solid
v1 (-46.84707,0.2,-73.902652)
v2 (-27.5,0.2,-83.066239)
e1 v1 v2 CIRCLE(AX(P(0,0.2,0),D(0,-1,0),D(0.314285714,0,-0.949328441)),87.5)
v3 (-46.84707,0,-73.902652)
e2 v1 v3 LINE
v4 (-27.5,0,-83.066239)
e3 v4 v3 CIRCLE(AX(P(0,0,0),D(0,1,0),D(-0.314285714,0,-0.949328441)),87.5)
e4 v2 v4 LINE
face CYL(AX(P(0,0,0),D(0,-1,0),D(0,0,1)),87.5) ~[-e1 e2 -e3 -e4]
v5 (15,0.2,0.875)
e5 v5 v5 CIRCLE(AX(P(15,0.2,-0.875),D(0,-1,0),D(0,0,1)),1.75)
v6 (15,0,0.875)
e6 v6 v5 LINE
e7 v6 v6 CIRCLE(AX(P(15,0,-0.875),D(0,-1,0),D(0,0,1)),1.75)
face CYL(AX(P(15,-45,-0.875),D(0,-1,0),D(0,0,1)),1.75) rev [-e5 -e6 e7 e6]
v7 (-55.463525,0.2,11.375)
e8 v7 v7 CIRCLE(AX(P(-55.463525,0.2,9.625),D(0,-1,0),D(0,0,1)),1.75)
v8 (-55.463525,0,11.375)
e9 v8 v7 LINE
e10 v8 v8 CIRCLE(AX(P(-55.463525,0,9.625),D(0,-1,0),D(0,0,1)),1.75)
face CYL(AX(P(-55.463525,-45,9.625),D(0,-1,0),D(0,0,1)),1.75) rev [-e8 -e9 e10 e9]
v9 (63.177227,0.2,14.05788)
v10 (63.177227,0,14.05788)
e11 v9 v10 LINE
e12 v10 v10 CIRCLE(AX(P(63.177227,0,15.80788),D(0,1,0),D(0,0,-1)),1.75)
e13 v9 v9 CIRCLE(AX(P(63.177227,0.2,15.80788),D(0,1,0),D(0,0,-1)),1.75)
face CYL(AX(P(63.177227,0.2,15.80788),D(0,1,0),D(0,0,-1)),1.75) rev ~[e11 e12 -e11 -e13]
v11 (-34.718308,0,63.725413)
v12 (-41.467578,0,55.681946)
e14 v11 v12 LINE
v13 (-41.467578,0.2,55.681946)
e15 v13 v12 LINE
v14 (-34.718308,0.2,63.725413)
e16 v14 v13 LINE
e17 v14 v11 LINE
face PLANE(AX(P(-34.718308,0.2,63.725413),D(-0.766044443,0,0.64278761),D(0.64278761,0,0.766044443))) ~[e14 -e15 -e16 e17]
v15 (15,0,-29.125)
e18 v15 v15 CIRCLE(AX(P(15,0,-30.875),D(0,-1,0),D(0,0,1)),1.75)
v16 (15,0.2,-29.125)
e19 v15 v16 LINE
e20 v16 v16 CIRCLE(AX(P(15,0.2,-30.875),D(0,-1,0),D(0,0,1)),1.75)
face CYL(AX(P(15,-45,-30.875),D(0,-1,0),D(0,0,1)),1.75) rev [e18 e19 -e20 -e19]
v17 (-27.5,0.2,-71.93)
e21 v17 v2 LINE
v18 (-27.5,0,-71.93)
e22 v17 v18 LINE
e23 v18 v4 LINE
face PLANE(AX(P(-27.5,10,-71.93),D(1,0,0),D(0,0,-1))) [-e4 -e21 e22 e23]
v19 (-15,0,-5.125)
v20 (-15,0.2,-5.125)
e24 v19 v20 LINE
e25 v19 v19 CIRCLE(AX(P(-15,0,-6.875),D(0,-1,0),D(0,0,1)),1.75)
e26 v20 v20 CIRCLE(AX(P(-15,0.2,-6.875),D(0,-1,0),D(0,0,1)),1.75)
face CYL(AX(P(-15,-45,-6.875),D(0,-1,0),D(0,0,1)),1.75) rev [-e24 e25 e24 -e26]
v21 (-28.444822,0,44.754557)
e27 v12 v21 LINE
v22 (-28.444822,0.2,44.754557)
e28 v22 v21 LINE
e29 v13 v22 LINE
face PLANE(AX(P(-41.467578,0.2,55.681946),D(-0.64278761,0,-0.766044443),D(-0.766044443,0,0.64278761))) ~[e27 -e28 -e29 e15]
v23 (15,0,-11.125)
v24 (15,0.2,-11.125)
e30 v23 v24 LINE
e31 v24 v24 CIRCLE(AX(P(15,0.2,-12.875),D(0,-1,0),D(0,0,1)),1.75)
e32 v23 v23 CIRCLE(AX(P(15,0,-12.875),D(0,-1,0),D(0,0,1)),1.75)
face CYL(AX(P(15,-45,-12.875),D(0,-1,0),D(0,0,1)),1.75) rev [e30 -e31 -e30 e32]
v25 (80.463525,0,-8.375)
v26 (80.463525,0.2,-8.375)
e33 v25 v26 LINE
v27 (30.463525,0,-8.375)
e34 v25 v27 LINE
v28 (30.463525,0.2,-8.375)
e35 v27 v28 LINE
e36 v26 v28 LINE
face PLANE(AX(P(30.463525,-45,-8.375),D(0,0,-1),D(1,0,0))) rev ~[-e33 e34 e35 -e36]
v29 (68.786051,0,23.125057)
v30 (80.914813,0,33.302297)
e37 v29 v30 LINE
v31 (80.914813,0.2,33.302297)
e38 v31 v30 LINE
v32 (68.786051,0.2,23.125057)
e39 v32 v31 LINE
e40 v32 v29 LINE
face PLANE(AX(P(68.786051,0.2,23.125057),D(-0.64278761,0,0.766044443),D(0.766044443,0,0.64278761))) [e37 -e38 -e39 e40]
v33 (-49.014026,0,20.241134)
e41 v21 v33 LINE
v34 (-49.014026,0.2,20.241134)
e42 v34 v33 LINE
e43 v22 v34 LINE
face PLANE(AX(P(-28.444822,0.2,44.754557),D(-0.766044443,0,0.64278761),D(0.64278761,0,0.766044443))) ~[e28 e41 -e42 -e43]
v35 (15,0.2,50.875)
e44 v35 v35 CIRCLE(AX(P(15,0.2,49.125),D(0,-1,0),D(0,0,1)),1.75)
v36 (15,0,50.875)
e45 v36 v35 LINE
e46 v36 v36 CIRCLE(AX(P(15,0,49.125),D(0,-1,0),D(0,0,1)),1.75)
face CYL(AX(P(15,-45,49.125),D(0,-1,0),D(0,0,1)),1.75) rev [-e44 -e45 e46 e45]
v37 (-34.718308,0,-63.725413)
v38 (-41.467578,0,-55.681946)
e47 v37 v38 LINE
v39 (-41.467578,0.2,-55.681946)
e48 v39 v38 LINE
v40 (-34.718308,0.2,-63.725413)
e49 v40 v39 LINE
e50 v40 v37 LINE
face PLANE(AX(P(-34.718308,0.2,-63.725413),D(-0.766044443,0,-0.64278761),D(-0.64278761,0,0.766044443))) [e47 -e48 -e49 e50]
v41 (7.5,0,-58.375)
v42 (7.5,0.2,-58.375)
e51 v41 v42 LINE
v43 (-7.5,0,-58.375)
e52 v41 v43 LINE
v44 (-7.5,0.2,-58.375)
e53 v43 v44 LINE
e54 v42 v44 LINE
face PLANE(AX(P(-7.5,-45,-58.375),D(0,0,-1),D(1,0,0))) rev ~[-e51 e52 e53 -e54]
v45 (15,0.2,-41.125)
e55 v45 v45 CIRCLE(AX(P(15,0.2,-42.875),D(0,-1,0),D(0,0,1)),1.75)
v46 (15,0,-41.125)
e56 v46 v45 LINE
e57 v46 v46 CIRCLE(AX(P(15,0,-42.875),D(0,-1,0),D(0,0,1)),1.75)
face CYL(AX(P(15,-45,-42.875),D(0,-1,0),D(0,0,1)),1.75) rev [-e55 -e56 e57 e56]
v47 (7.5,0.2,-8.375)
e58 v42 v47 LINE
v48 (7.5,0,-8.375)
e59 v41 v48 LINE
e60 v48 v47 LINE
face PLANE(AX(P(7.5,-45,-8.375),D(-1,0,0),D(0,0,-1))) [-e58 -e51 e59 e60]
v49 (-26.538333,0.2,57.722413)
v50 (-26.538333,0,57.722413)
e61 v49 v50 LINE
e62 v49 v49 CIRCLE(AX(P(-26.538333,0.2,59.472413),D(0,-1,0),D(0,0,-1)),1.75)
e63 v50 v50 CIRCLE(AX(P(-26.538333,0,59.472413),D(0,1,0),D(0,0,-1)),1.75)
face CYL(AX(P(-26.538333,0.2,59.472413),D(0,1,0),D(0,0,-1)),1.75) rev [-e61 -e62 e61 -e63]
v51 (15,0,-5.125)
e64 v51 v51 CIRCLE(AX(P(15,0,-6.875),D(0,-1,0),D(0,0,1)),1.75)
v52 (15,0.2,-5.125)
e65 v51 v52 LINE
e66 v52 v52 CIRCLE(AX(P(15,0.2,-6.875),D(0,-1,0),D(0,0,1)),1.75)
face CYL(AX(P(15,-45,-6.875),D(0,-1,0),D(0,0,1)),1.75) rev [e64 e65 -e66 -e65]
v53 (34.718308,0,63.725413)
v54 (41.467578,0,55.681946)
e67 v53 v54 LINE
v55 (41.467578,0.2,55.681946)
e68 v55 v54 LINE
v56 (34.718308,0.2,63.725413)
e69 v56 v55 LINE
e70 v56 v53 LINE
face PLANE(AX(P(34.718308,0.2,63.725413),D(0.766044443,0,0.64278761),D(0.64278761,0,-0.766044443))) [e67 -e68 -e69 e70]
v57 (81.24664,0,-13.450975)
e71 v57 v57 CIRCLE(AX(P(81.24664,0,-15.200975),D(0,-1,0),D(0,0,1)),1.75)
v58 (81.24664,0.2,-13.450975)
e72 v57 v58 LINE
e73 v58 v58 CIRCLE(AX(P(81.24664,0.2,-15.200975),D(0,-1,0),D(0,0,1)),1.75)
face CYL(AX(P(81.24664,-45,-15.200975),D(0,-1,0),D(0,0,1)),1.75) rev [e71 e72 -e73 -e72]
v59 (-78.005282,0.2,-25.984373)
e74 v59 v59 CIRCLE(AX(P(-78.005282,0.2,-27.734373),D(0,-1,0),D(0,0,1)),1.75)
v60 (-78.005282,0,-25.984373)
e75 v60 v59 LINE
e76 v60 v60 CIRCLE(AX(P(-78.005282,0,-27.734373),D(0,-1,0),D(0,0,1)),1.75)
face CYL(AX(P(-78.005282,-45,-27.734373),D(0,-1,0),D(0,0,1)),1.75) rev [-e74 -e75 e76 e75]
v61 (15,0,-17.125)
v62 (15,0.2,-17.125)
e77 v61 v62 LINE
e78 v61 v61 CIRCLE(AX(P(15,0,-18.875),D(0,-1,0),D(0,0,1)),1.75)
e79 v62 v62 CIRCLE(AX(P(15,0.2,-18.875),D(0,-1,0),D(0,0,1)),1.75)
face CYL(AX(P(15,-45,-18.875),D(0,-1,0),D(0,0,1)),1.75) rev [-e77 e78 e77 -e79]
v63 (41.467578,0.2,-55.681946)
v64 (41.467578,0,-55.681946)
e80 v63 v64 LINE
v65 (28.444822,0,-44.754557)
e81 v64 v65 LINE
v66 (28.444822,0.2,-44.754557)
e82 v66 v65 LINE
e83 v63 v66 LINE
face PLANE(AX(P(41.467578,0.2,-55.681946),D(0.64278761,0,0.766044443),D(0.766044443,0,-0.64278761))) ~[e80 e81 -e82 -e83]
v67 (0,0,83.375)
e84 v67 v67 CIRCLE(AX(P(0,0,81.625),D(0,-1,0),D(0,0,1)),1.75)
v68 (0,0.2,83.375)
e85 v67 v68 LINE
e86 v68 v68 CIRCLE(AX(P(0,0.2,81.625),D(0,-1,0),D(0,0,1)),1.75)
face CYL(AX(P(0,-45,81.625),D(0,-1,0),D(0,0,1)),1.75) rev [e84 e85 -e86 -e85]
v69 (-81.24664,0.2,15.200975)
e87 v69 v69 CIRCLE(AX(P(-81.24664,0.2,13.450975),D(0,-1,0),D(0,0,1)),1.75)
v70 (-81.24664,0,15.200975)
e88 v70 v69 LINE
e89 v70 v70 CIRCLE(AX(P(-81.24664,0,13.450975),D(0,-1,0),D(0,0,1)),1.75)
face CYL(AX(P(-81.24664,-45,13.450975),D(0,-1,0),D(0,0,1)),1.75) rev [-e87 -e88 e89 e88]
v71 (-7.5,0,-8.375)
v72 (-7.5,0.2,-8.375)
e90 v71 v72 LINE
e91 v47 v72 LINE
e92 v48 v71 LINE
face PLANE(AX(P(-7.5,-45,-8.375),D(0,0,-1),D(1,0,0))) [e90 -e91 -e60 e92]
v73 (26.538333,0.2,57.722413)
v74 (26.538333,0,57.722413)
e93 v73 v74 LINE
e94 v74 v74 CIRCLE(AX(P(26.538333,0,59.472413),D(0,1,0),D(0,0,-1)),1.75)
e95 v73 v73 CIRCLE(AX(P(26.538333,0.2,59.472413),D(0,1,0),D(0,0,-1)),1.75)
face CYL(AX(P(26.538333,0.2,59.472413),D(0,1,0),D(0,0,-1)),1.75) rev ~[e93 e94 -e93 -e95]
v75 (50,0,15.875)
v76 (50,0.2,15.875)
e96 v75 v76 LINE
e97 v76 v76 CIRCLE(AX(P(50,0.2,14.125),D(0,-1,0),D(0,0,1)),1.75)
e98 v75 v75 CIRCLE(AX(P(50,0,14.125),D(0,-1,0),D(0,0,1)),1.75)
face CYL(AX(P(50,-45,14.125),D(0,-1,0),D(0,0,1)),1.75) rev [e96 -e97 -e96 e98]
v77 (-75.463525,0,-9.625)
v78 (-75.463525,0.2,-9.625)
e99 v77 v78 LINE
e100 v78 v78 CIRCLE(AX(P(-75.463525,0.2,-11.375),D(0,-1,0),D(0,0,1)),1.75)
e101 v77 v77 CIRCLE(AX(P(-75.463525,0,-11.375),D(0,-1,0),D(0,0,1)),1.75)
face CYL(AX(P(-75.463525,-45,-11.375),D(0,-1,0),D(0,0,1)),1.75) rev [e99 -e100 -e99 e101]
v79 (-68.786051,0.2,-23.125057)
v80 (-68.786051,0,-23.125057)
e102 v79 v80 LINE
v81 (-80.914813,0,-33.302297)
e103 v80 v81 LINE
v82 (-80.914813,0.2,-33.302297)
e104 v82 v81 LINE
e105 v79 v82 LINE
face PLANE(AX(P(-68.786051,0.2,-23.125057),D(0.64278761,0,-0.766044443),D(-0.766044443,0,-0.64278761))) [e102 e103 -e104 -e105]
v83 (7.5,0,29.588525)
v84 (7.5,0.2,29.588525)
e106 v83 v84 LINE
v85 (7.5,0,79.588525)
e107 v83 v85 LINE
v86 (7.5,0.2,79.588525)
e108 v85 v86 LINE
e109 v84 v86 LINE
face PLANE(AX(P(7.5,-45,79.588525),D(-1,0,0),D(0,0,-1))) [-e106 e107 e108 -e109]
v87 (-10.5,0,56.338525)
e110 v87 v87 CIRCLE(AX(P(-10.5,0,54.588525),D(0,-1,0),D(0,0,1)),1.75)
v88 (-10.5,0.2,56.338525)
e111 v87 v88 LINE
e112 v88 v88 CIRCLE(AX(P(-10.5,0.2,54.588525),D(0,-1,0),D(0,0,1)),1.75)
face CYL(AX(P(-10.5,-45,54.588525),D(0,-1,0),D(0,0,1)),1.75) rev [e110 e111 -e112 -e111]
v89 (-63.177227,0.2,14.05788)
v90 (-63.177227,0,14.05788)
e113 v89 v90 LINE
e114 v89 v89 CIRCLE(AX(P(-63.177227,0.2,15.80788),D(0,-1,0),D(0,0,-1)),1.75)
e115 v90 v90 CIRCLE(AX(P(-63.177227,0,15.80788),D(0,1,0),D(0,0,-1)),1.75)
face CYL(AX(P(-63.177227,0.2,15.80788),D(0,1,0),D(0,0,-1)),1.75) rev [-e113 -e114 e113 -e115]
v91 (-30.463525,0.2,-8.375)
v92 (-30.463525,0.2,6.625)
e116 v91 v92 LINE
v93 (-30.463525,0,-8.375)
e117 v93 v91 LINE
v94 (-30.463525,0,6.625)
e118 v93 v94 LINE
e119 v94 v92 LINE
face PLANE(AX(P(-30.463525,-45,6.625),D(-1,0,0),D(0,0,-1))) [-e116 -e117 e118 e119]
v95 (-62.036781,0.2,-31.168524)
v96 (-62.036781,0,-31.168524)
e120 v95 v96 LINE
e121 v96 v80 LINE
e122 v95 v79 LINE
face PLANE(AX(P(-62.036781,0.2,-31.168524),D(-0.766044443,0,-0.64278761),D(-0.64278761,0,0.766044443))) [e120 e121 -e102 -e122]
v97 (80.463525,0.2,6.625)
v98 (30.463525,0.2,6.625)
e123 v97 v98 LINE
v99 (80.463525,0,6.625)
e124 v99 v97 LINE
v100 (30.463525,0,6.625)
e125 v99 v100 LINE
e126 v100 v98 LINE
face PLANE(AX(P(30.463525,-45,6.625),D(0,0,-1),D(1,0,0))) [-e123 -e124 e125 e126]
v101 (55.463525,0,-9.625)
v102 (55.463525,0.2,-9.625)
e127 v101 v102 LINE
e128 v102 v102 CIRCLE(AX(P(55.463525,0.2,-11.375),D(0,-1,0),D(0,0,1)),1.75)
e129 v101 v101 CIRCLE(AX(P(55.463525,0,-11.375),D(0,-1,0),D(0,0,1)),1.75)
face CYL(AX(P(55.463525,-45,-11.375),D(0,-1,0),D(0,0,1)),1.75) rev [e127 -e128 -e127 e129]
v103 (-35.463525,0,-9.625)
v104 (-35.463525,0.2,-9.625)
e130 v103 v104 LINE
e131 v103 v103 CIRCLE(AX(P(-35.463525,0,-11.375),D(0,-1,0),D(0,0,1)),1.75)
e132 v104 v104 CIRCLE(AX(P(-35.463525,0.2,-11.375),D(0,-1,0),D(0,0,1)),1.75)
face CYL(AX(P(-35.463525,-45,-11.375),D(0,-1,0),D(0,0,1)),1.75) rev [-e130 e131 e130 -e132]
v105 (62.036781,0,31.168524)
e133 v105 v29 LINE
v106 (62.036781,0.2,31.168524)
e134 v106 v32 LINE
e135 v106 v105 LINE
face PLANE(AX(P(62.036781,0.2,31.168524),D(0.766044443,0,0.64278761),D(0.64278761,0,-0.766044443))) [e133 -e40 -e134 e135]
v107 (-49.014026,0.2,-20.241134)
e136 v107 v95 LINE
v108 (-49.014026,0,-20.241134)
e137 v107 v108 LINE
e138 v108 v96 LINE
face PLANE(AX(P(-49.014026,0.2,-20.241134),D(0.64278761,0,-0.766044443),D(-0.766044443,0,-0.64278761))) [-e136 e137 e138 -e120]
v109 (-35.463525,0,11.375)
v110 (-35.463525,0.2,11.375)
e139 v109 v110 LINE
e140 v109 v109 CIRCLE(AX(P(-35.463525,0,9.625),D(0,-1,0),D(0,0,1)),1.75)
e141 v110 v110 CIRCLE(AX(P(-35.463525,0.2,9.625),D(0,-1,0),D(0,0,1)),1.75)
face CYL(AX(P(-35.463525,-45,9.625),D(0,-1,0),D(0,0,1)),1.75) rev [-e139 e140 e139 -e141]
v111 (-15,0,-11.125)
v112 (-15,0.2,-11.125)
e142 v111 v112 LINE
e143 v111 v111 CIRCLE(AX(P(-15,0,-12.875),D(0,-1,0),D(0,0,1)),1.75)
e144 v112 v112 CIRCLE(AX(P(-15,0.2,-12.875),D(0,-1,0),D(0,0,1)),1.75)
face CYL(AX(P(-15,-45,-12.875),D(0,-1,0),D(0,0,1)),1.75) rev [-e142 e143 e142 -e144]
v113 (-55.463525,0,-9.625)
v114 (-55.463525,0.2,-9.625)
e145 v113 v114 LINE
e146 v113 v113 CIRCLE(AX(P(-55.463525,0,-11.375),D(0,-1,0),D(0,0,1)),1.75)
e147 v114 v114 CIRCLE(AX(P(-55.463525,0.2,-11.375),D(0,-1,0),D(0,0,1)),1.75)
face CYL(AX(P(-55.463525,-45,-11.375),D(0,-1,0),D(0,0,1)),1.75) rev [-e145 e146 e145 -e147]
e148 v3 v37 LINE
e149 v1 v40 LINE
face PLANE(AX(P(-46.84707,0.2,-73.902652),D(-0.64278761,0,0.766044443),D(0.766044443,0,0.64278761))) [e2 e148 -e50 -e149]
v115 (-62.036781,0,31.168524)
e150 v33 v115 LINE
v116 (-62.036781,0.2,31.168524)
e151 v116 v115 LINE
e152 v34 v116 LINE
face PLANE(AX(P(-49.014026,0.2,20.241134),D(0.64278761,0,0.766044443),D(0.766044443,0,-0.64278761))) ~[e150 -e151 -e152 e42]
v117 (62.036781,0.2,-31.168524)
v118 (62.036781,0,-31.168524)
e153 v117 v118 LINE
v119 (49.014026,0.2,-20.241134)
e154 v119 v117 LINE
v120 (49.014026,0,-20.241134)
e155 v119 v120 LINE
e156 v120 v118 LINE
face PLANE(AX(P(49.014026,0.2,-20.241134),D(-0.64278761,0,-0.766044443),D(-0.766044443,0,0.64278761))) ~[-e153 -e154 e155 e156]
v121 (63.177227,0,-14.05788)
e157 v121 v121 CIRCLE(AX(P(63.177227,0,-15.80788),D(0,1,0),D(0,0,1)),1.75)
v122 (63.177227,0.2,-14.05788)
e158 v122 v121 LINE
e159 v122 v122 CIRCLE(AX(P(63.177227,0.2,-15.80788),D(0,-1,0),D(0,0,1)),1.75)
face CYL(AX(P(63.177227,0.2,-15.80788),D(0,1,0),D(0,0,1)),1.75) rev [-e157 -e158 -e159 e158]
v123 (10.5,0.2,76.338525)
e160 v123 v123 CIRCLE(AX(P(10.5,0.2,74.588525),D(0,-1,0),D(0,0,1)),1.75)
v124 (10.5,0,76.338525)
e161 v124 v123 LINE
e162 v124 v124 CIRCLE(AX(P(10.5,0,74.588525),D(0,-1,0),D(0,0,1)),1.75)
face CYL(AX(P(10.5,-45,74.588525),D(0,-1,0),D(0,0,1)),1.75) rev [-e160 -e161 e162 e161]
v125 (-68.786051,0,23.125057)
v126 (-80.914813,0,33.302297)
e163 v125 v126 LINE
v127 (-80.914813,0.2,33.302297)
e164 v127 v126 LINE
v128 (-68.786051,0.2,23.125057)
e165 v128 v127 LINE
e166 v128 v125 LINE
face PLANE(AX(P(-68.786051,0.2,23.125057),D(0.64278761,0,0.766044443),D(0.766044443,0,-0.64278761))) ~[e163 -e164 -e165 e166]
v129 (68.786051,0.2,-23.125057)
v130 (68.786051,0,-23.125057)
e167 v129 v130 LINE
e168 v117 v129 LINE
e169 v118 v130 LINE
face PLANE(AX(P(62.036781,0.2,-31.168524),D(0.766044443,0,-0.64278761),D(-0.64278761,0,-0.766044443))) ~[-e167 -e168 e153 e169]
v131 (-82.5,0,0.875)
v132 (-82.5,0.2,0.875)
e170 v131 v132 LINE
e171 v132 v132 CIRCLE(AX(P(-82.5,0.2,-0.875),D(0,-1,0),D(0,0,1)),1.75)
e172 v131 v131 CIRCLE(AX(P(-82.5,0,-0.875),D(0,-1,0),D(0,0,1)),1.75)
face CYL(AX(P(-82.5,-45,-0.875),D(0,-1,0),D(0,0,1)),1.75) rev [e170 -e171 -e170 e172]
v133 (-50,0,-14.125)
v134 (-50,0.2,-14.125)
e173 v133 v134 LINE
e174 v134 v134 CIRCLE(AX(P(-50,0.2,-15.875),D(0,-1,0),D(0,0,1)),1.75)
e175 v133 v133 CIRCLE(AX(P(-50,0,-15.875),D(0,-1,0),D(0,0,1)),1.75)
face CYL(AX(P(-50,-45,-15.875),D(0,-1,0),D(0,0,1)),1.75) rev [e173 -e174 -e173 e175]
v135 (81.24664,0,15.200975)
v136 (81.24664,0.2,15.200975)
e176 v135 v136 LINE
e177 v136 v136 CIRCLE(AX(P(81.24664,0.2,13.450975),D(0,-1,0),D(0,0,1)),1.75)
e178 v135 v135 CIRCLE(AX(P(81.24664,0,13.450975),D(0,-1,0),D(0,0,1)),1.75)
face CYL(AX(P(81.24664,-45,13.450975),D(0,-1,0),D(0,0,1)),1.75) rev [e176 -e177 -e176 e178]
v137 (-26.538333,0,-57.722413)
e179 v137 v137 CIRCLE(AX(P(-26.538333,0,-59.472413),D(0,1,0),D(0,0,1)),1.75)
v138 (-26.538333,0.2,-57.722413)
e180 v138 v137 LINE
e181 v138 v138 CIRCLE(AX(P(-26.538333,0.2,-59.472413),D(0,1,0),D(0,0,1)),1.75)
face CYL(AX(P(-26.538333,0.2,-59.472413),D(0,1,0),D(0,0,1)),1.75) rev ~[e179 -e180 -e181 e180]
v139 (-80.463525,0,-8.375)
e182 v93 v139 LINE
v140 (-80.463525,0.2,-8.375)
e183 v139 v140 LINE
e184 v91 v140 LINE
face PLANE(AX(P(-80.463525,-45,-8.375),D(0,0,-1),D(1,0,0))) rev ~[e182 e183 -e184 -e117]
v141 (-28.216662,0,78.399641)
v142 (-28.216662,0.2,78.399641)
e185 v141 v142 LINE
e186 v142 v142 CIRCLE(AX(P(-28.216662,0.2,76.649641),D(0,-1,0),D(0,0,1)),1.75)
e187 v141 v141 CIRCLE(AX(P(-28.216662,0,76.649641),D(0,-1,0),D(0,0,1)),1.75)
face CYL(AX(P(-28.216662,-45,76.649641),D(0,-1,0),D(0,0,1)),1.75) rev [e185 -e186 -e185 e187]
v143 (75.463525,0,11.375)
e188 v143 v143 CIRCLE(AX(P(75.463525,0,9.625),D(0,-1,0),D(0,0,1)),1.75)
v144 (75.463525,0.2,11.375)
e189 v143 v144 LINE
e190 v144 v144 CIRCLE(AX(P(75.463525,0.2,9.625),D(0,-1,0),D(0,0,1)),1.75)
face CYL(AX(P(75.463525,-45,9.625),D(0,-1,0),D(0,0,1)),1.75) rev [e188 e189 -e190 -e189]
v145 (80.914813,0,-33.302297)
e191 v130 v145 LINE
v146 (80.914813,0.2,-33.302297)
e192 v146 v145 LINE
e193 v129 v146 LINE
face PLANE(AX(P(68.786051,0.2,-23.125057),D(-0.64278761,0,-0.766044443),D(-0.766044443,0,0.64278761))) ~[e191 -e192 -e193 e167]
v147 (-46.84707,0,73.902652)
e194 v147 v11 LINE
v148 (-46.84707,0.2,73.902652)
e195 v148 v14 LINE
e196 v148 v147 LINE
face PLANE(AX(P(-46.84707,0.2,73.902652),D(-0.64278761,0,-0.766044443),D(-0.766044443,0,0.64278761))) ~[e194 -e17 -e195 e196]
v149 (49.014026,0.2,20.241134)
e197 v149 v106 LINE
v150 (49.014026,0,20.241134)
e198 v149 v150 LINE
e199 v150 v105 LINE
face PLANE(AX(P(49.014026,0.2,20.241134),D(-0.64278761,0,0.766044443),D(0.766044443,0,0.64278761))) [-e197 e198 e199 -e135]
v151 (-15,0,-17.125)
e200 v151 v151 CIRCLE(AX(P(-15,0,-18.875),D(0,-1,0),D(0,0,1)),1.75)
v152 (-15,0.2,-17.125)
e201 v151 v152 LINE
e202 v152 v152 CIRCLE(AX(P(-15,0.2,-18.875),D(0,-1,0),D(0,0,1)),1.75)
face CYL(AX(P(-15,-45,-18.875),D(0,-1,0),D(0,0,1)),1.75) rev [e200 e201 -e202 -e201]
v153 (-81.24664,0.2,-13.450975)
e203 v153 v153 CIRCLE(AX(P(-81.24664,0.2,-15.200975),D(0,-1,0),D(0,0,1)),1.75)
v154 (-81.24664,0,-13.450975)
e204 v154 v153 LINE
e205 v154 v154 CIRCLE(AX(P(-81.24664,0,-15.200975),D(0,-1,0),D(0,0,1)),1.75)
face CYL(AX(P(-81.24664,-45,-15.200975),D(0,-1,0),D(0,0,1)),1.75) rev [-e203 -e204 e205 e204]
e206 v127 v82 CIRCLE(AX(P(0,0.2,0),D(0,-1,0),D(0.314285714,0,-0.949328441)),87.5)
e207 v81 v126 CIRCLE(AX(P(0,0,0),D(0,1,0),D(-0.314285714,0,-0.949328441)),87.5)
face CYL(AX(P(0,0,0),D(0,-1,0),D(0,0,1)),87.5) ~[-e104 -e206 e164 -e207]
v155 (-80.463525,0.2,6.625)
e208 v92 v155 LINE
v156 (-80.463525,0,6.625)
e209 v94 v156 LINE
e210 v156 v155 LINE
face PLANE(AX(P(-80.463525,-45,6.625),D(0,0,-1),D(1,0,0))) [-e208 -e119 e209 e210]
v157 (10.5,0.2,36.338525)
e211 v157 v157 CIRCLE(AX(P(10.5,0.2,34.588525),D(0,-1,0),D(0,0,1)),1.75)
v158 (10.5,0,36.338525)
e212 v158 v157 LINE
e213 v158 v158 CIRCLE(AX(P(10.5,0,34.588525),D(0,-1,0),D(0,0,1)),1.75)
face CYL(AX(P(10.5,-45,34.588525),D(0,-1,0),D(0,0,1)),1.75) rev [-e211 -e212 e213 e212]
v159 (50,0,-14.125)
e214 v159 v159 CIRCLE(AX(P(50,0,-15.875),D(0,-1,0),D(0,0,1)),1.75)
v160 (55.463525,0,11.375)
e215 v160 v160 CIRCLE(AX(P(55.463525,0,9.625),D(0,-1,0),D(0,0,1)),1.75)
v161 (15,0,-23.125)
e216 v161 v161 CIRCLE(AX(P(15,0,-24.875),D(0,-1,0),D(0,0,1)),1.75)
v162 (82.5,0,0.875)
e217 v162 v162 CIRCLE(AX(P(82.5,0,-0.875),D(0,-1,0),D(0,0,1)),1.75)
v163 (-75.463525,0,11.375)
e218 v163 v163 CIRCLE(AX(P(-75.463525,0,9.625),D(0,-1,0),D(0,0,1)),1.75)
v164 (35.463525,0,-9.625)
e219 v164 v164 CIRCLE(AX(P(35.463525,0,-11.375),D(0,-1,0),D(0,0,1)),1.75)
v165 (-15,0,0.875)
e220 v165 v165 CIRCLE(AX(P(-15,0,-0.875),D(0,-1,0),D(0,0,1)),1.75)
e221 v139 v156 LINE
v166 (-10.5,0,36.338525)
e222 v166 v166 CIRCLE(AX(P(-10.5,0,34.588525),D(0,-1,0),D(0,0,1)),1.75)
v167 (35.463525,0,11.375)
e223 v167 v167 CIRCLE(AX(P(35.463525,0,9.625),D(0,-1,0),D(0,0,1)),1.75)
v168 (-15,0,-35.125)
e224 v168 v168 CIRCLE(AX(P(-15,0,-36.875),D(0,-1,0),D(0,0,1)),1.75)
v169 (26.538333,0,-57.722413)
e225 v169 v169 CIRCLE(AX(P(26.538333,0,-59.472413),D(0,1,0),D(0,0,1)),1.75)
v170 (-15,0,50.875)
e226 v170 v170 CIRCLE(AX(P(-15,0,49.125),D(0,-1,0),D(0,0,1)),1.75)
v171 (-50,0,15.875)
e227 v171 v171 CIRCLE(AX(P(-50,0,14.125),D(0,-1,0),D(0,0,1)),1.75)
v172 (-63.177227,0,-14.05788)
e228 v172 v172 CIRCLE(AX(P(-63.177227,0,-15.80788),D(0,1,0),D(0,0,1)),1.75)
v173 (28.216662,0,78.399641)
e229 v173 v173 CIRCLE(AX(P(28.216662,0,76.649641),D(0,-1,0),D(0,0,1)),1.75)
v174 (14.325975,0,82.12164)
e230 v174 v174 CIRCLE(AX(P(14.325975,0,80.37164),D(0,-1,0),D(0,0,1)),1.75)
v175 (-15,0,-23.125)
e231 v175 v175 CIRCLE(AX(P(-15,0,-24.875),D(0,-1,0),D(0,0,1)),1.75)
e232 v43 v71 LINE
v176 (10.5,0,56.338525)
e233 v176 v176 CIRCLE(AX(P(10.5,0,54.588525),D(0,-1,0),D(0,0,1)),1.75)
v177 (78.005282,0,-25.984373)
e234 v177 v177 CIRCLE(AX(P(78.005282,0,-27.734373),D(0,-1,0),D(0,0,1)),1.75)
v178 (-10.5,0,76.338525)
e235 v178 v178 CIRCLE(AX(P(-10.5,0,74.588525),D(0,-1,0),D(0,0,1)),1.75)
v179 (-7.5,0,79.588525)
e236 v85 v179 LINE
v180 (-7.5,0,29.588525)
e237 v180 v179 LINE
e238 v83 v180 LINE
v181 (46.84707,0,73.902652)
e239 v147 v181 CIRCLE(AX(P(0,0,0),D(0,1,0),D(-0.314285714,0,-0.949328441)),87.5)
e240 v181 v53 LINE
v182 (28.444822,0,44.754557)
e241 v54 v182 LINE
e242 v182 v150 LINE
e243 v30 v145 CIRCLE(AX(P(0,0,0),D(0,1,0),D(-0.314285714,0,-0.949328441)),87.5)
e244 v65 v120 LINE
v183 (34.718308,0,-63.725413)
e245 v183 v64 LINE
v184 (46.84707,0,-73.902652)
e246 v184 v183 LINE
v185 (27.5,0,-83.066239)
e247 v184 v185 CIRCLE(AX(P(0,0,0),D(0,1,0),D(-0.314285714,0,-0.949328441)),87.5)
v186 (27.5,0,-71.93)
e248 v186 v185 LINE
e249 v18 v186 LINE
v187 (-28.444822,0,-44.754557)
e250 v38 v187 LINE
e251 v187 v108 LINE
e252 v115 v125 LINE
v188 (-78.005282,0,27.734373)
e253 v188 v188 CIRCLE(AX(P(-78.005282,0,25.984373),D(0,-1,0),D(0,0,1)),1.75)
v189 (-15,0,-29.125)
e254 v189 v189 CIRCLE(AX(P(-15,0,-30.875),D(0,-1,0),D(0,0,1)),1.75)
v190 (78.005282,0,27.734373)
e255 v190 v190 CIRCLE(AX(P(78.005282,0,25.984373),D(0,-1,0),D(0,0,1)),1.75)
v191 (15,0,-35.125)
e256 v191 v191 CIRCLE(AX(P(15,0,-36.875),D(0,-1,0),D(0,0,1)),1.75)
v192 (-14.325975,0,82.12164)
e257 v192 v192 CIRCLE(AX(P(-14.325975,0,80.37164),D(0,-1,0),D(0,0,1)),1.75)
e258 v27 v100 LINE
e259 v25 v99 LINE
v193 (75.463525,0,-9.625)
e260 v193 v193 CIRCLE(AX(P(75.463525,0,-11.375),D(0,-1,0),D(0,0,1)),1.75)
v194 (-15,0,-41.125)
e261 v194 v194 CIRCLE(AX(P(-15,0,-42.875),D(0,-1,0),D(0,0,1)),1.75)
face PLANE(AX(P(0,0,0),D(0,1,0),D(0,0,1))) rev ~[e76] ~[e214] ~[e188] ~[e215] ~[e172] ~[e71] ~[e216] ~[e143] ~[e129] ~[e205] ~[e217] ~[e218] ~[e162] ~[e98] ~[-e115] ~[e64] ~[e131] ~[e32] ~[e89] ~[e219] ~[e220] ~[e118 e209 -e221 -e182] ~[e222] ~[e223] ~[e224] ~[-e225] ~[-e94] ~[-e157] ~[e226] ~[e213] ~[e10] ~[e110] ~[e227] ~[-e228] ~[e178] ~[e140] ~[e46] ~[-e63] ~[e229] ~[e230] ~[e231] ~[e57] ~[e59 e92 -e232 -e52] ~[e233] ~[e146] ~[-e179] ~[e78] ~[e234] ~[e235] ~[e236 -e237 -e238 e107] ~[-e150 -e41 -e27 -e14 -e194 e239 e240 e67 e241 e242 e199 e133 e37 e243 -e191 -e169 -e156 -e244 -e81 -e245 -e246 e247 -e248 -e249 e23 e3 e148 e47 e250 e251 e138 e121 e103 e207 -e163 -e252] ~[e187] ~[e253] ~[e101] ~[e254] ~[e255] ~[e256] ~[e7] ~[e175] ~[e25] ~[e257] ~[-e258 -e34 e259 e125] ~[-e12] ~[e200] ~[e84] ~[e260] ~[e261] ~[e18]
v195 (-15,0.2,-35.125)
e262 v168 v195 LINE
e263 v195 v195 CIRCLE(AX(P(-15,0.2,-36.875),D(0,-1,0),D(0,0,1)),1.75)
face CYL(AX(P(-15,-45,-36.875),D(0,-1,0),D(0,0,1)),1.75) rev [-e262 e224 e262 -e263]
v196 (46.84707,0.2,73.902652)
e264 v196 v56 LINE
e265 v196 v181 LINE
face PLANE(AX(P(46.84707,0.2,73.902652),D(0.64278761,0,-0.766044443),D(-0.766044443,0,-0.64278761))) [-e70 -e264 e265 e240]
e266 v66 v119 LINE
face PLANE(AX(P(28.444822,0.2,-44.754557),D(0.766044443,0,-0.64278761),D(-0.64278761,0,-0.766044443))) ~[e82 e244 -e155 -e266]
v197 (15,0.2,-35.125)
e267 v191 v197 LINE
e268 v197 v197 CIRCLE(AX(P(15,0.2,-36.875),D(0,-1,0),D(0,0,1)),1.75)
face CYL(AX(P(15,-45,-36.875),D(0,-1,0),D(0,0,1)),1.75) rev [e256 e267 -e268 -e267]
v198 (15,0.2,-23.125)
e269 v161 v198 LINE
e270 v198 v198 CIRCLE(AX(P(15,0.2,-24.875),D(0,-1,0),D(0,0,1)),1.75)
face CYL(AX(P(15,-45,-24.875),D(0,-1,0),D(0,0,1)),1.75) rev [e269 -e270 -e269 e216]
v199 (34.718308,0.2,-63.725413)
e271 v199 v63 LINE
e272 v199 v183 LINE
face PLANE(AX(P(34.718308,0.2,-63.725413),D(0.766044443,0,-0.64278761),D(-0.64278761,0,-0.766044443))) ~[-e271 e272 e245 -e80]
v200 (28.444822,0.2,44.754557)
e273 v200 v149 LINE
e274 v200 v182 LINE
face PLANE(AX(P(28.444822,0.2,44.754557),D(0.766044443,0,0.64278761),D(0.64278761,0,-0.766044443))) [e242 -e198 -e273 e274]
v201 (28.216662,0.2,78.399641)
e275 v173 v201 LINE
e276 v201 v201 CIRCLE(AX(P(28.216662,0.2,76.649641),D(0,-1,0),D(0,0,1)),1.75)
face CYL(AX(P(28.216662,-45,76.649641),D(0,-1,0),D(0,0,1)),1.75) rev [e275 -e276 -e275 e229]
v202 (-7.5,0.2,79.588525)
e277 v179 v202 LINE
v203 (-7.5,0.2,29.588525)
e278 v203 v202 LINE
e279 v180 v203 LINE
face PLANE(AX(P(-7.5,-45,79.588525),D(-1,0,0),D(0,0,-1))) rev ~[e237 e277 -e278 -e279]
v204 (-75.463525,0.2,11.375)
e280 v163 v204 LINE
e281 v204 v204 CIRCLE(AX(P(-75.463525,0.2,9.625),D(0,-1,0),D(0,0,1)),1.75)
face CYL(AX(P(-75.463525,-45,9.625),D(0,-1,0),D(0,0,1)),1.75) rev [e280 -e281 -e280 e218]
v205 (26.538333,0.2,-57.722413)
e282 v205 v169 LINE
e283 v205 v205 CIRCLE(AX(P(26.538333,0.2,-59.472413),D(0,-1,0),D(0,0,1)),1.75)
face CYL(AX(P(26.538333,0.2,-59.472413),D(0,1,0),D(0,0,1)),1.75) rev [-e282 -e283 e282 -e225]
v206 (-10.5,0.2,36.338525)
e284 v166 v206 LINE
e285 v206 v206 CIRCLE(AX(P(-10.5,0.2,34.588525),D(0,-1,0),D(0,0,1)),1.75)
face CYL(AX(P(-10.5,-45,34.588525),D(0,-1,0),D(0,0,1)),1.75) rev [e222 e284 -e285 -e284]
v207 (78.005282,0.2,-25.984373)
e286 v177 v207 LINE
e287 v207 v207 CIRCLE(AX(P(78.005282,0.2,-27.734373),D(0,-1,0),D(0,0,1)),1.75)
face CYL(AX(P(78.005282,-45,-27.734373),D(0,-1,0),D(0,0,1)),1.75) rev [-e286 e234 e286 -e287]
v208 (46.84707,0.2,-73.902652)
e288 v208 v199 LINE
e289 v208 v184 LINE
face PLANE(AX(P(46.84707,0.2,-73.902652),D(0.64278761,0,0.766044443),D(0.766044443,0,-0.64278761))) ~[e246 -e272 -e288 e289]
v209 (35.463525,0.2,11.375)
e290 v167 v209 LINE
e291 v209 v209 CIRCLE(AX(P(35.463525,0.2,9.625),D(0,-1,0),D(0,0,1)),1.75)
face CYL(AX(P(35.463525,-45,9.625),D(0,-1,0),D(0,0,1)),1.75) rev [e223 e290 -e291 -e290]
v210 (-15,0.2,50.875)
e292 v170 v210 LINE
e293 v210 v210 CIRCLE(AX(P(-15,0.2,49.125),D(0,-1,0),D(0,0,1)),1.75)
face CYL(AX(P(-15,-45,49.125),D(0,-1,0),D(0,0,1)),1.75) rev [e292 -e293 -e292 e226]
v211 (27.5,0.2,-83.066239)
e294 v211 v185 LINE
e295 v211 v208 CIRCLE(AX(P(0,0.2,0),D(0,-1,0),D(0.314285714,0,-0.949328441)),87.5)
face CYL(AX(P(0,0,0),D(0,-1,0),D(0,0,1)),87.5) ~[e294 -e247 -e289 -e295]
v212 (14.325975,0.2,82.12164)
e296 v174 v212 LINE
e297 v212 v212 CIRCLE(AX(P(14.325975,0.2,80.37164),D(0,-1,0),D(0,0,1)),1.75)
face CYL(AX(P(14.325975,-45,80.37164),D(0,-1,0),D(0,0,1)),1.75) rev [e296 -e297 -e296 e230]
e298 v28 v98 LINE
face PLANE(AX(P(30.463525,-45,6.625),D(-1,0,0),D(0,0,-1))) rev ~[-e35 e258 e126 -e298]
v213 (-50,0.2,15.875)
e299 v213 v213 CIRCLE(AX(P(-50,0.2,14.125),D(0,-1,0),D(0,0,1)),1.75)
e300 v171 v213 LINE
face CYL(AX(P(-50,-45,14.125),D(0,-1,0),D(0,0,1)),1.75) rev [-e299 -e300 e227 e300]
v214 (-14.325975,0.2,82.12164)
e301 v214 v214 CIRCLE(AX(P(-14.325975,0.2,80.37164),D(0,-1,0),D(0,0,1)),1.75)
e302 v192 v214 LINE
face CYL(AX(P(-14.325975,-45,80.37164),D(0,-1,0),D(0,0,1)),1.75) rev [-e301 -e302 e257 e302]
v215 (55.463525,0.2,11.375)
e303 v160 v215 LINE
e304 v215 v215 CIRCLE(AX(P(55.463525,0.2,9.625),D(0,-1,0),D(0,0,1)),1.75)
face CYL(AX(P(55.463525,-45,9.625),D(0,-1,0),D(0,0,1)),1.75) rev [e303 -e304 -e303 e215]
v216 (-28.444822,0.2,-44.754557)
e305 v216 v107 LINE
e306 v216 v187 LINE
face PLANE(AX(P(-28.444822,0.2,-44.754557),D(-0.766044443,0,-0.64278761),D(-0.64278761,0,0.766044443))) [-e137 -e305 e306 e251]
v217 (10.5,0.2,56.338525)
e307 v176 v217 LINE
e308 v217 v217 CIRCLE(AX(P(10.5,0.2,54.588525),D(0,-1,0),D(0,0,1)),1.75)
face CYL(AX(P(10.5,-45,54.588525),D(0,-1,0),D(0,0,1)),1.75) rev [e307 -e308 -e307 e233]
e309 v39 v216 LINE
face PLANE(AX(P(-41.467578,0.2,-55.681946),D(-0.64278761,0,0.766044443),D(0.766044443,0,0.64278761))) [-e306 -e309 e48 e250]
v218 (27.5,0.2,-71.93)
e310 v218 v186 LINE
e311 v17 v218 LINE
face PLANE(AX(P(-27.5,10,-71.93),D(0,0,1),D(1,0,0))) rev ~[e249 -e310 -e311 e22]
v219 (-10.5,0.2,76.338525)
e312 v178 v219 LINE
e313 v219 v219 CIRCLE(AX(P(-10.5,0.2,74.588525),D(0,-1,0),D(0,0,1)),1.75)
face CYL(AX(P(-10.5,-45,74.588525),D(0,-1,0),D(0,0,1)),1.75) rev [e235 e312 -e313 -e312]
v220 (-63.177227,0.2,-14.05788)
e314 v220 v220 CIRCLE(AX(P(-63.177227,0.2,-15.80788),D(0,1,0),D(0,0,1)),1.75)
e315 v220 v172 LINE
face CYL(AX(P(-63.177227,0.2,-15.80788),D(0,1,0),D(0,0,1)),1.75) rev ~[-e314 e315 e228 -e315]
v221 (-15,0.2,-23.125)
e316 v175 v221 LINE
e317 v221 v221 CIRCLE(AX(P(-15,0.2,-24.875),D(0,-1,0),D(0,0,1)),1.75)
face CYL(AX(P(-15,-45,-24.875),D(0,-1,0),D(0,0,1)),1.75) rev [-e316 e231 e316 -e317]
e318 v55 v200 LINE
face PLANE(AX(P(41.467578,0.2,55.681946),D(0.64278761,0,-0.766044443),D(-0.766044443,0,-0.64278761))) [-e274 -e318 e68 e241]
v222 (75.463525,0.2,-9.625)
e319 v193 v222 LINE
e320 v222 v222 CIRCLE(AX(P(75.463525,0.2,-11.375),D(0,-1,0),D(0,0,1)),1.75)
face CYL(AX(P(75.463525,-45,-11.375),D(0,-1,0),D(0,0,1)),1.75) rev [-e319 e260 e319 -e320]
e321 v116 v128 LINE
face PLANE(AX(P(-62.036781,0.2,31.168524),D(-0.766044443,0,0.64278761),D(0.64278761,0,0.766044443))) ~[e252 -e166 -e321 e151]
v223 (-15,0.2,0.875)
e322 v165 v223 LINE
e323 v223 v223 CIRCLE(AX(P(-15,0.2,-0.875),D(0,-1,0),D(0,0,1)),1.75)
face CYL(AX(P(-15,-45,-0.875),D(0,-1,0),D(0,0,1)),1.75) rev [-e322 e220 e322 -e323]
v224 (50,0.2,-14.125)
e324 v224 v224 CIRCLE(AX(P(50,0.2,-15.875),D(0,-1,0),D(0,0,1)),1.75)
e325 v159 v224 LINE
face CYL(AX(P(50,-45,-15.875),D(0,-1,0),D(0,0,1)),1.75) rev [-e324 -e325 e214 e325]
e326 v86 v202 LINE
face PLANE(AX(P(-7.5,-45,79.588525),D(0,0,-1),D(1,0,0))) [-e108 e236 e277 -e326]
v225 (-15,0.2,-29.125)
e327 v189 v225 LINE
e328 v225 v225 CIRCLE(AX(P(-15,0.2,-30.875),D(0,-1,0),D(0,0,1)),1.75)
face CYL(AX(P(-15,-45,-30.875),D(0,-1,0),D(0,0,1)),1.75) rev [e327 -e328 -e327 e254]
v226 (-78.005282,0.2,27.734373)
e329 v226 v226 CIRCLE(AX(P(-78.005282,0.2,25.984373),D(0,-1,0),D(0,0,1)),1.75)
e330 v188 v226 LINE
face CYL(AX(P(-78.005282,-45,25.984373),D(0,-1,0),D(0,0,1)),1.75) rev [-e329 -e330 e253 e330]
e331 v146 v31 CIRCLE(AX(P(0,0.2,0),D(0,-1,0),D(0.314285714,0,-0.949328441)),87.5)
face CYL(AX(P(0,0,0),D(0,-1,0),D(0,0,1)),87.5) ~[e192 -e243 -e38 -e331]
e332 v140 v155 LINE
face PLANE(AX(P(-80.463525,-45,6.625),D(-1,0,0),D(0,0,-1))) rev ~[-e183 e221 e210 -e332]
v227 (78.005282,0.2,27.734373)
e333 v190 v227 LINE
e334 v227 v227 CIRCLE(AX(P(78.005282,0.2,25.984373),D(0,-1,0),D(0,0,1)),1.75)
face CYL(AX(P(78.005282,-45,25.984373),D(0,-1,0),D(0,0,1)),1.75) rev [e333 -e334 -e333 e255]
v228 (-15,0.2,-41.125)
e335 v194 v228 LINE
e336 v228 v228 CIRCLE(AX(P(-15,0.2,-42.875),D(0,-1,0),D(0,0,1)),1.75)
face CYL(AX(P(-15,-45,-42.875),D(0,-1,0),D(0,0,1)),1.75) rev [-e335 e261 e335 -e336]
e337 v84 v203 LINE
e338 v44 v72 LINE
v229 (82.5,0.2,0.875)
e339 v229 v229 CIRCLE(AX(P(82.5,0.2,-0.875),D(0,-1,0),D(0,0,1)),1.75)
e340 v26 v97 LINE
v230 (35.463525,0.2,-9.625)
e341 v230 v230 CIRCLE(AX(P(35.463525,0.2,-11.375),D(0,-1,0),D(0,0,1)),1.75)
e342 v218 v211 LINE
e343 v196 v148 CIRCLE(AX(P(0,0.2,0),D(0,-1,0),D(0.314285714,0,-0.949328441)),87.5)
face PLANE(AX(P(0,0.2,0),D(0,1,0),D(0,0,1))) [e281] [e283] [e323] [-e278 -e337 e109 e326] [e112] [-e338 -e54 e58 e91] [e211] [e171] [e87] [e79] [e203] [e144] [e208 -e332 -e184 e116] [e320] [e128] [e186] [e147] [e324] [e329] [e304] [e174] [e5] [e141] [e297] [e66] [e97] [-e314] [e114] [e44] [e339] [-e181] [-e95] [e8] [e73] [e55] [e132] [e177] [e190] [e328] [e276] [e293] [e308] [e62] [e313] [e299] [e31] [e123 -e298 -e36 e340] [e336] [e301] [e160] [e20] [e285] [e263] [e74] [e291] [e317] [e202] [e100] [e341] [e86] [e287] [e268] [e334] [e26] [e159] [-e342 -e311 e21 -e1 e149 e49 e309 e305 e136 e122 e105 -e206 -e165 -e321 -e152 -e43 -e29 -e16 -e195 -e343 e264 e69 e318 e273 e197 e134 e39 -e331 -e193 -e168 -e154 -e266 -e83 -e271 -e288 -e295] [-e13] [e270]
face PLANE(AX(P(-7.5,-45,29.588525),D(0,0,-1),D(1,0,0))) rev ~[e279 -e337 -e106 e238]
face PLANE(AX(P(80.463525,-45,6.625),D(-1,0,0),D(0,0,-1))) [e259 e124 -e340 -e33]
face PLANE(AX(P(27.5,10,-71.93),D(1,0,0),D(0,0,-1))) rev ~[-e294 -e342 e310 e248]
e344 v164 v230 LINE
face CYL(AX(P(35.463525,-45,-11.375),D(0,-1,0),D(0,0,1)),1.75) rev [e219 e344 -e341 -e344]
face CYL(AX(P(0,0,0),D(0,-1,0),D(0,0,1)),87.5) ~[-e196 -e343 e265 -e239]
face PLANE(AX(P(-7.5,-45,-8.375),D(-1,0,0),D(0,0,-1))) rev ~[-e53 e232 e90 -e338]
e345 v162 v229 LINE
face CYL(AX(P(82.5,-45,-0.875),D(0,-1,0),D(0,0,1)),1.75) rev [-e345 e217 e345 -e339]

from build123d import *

# Parameters (mm, degrees)
SKETCH2_R                                  = 87.5
BOSS_EXTRUDE1_DEPTH                        = 0.2
SKETCH4_W                                  = 55
SKETCH4_H                                  = 31.14
CUT_EXTRUDE1_DEPTH                         = 173.2
SKETCH5_R                                  = 1.75
CUT_EXTRUDE3_DEPTH                         = 183.2
MIRROR2_AT_THE_SECOND_PLANE_COPY_1_SKETC_R = 1.75
MIRROR2_AT_THE_SECOND_PLANE_COPY_1_DEPTH   = 183.2
CUT_EXTRUDE4_DEPTH                         = 39
CUT_EXTRUDE4_DEPTH_BACK                    = 55
SKETCH9_R                                  = 1.75
SKETCH9_W                                  = 15
SKETCH9_H                                  = 50
SKETCH9_W_2                                = 50
SKETCH9_H_2                                = 15


with BuildPart() as part:
    # Sketch2 → Boss-Extrude1 (new body)
    with BuildSketch(Plane(origin=(0, 0, 0), x_dir=(1, 0, 0), z_dir=(0, 1, 0))):
        with Locations(Location((0, 0, 0), (0, 0, 270))):
            Circle(SKETCH2_R)
    extrude(amount=BOSS_EXTRUDE1_DEPTH)

    # Sketch4 → Cut-Extrude1 (cut)
    with BuildSketch(Plane(origin=(0, 10, 0), x_dir=(1, 0, 0), z_dir=(0, 1, 0))):
        with Locations((0, 87.5)):
            Rectangle(SKETCH4_W, SKETCH4_H)
    extrude(amount=-CUT_EXTRUDE1_DEPTH, mode=Mode.SUBTRACT)

    # Sketch5 → Cut-Extrude3 (cut)
    with BuildSketch(Plane(origin=(0, 0.2, 0), x_dir=(1, 0, 0), z_dir=(0, 1, 0))):
        with Locations(Location((-26.538332841, 59.472413045, 0), (0, 0, 270))):
            Circle(SKETCH5_R)
        with Locations(Location((-63.177226594, 15.807879787, 0), (0, 0, 270))):
            Circle(SKETCH5_R)
        Polygon((-46.847070053, 73.902652371), (-34.718308049, 63.725412646), (-41.467577951, 55.681945993), (-28.444822418, 44.754556629), (-49.014025927, 20.241134449), (-62.036781461, 31.168523814), (-68.786051362, 23.125057161), (-80.914813367, 33.302296885), (-94.831562428, 44.97983589), (-60.763819115, 85.580191376), align=None)
    cut_extrude3 = extrude(amount=-CUT_EXTRUDE3_DEPTH, mode=Mode.SUBTRACT)

    # Mirror2: Cut-Extrude3 across plane
    add(cut_extrude3.mirror(Plane.XY), mode=Mode.SUBTRACT)

    # Mirror2 at the second plane: Cut-Extrude3 across plane
    add(cut_extrude3.mirror(Plane(origin=(0, 0, 0), x_dir=(0, 0, 1), z_dir=(1, 0, 0))), mode=Mode.SUBTRACT)

    # Mirror2 at the second plane copy 1 sketc → Mirror2 at the second plane copy 1 (cut)
    with BuildSketch(Plane(origin=(0, 0.2, 0), x_dir=(-1, 0, 0), z_dir=(0, 1, 0))):
        with Locations(Location((-26.538332841, 59.472413045, 0), (0, 0, 270))):
            Circle(MIRROR2_AT_THE_SECOND_PLANE_COPY_1_SKETC_R)
        with Locations(Location((-63.177226594, 15.807879787, 0), (0, 0, 270))):
            Circle(MIRROR2_AT_THE_SECOND_PLANE_COPY_1_SKETC_R)
        Polygon((-46.847070053, 73.902652371), (-34.718308049, 63.725412646), (-41.467577951, 55.681945993), (-28.444822418, 44.754556629), (-49.014025927, 20.241134449), (-62.036781461, 31.168523814), (-68.786051362, 23.125057161), (-80.914813367, 33.302296885), (-94.831562428, 44.97983589), (-60.763819115, 85.580191376), align=None)
    extrude(amount=-MIRROR2_AT_THE_SECOND_PLANE_COPY_1_DEPTH, mode=Mode.SUBTRACT)

    # Sketch9 → Cut-Extrude4 (cut, two sides: drawn at the far end of the back side and taken through both)
    with BuildSketch(Plane(origin=(0, 10, 0), x_dir=(1, 0, 0), z_dir=(0, 1, 0)).offset(-CUT_EXTRUDE4_DEPTH_BACK)):
        with Locations(Location((-15, 0.875, 0), (0, 0, 270))):
            Circle(SKETCH9_R)
        with Locations(Location((15, 0.875, 0), (0, 0, 270))):
            Circle(SKETCH9_R)
        with Locations(Location((15, 6.875, 0), (0, 0, 270))):
            Circle(SKETCH9_R)
        with Locations(Location((-15, 6.875, 0), (0, 0, 270))):
            Circle(SKETCH9_R)
        with Locations(Location((-15, 12.875, 0), (0, 0, 270))):
            Circle(SKETCH9_R)
        with Locations(Location((15, 12.875, 0), (0, 0, 270))):
            Circle(SKETCH9_R)
        with Locations(Location((-15, 18.875, 0), (0, 0, 270))):
            Circle(SKETCH9_R)
        with Locations(Location((15, 18.875, 0), (0, 0, 270))):
            Circle(SKETCH9_R)
        with Locations(Location((-15, 24.875, 0), (0, 0, 270))):
            Circle(SKETCH9_R)
        with Locations(Location((15, 24.875, 0), (0, 0, 270))):
            Circle(SKETCH9_R)
        with Locations(Location((-15, 30.875, 0), (0, 0, 270))):
            Circle(SKETCH9_R)
        with Locations(Location((15, 30.875, 0), (0, 0, 270))):
            Circle(SKETCH9_R)
        with Locations(Location((-15, 36.875, 0), (0, 0, 270))):
            Circle(SKETCH9_R)
        with Locations(Location((15, 36.875, 0), (0, 0, 270))):
            Circle(SKETCH9_R)
        with Locations(Location((-15, 42.875, 0), (0, 0, 270))):
            Circle(SKETCH9_R)
        with Locations(Location((15, 42.875, 0), (0, 0, 270))):
            Circle(SKETCH9_R)
        with Locations(Location((-35.463524622, 11.375, 0), (0, 0, 270))):
            Circle(SKETCH9_R)
        with Locations(Location((-35.463524622, -9.625, 0), (0, 0, 270))):
            Circle(SKETCH9_R)
        with Locations(Location((-55.463524622, -9.625, 0), (0, 0, 270))):
            Circle(SKETCH9_R)
        with Locations(Location((-55.463524622, 11.375, 0), (0, 0, 270))):
            Circle(SKETCH9_R)
        with Locations(Location((-75.463524622, -9.625, 0), (0, 0, 270))):
            Circle(SKETCH9_R)
        with Locations(Location((-75.463524622, 11.375, 0), (0, 0, 270))):
            Circle(SKETCH9_R)
        with Locations(Location((-50, -14.125, 0), (0, 0, 270))):
            Circle(SKETCH9_R)
        with Locations(Location((-50, 15.875, 0), (0, 0, 270))):
            Circle(SKETCH9_R)
        with Locations(Location((-82.5, 0.875, 0), (0, 0, 270))):
            Circle(SKETCH9_R)
        with Locations(Location((-78.005282487, -25.984372743, 0), (0, 0, 270))):
            Circle(SKETCH9_R)
        with Locations(Location((-81.246639624, -13.450974658, 0), (0, 0, 270))):
            Circle(SKETCH9_R)
        with Locations(Location((-81.246639624, 15.200974658, 0), (0, 0, 270))):
            Circle(SKETCH9_R)
        with Locations(Location((-78.005282487, 27.734372743, 0), (0, 0, 270))):
            Circle(SKETCH9_R)
        with Locations(Location((28.216661824, -76.649641215, 0), (0, 0, 270))):
            Circle(SKETCH9_R)
        with Locations(Location((14.325974658, -80.371639624, 0), (0, 0, 270))):
            Circle(SKETCH9_R)
        with Locations(Location((10.5, -74.588524622, 0), (0, 0, 270))):
            Circle(SKETCH9_R)
        with Locations(Location((10.5, -54.588524622, 0), (0, 0, 270))):
            Circle(SKETCH9_R)
        with Locations(Location((15, -49.125, 0), (0, 0, 270))):
            Circle(SKETCH9_R)
        with Locations(Location((10.5, -34.588524622, 0), (0, 0, 270))):
            Circle(SKETCH9_R)
        with Locations(Location((0, -81.625, 0), (0, 0, 270))):
            Circle(SKETCH9_R)
        with Locations(Location((-14.325974658, -80.371639624, 0), (0, 0, 270))):
            Circle(SKETCH9_R)
        with Locations(Location((-28.216661824, -76.649641215, 0), (0, 0, 270))):
            Circle(SKETCH9_R)
        with Locations(Location((-10.5, -74.588524622, 0), (0, 0, 270))):
            Circle(SKETCH9_R)
        with Locations(Location((-10.5, -54.588524622, 0), (0, 0, 270))):
            Circle(SKETCH9_R)
        with Locations(Location((-15, -49.125, 0), (0, 0, 270))):
            Circle(SKETCH9_R)
        with Locations(Location((-10.5, -34.588524622, 0), (0, 0, 270))):
            Circle(SKETCH9_R)
        with Locations(Location((78.005282487, 27.734372743, 0), (0, 0, 270))):
            Circle(SKETCH9_R)
        with Locations(Location((81.246639624, 15.200974658, 0), (0, 0, 270))):
            Circle(SKETCH9_R)
        with Locations(Location((75.463524622, 11.375, 0), (0, 0, 270))):
            Circle(SKETCH9_R)
        with Locations(Location((55.463524622, 11.375, 0), (0, 0, 270))):
            Circle(SKETCH9_R)
        with Locations(Location((50, 15.875, 0), (0, 0, 270))):
            Circle(SKETCH9_R)
        with Locations(Location((35.463524622, 11.375, 0), (0, 0, 270))):
            Circle(SKETCH9_R)
        with Locations(Location((82.5, 0.875, 0), (0, 0, 270))):
            Circle(SKETCH9_R)
        with Locations(Location((81.246639624, -13.450974658, 0), (0, 0, 270))):
            Circle(SKETCH9_R)
        with Locations(Location((78.005282487, -25.984372743, 0), (0, 0, 270))):
            Circle(SKETCH9_R)
        with Locations(Location((75.463524622, -9.625, 0), (0, 0, 270))):
            Circle(SKETCH9_R)
        with Locations(Location((55.463524622, -9.625, 0), (0, 0, 270))):
            Circle(SKETCH9_R)
        with Locations(Location((50, -14.125, 0), (0, 0, 270))):
            Circle(SKETCH9_R)
        with Locations(Location((35.463524622, -9.625, 0), (0, 0, 270))):
            Circle(SKETCH9_R)
        with Locations((0, 33.375)):
            Rectangle(SKETCH9_W, SKETCH9_H)
        with Locations((-55.463524622, 0.875)):
            Rectangle(SKETCH9_W_2, SKETCH9_H_2)
        with Locations((0, -54.588524622)):
            Rectangle(SKETCH9_W, SKETCH9_H)
        with Locations((55.463524622, 0.875)):
            Rectangle(SKETCH9_W_2, SKETCH9_H_2)
    extrude(amount=CUT_EXTRUDE4_DEPTH + CUT_EXTRUDE4_DEPTH_BACK, mode=Mode.SUBTRACT)


solid = part.part
